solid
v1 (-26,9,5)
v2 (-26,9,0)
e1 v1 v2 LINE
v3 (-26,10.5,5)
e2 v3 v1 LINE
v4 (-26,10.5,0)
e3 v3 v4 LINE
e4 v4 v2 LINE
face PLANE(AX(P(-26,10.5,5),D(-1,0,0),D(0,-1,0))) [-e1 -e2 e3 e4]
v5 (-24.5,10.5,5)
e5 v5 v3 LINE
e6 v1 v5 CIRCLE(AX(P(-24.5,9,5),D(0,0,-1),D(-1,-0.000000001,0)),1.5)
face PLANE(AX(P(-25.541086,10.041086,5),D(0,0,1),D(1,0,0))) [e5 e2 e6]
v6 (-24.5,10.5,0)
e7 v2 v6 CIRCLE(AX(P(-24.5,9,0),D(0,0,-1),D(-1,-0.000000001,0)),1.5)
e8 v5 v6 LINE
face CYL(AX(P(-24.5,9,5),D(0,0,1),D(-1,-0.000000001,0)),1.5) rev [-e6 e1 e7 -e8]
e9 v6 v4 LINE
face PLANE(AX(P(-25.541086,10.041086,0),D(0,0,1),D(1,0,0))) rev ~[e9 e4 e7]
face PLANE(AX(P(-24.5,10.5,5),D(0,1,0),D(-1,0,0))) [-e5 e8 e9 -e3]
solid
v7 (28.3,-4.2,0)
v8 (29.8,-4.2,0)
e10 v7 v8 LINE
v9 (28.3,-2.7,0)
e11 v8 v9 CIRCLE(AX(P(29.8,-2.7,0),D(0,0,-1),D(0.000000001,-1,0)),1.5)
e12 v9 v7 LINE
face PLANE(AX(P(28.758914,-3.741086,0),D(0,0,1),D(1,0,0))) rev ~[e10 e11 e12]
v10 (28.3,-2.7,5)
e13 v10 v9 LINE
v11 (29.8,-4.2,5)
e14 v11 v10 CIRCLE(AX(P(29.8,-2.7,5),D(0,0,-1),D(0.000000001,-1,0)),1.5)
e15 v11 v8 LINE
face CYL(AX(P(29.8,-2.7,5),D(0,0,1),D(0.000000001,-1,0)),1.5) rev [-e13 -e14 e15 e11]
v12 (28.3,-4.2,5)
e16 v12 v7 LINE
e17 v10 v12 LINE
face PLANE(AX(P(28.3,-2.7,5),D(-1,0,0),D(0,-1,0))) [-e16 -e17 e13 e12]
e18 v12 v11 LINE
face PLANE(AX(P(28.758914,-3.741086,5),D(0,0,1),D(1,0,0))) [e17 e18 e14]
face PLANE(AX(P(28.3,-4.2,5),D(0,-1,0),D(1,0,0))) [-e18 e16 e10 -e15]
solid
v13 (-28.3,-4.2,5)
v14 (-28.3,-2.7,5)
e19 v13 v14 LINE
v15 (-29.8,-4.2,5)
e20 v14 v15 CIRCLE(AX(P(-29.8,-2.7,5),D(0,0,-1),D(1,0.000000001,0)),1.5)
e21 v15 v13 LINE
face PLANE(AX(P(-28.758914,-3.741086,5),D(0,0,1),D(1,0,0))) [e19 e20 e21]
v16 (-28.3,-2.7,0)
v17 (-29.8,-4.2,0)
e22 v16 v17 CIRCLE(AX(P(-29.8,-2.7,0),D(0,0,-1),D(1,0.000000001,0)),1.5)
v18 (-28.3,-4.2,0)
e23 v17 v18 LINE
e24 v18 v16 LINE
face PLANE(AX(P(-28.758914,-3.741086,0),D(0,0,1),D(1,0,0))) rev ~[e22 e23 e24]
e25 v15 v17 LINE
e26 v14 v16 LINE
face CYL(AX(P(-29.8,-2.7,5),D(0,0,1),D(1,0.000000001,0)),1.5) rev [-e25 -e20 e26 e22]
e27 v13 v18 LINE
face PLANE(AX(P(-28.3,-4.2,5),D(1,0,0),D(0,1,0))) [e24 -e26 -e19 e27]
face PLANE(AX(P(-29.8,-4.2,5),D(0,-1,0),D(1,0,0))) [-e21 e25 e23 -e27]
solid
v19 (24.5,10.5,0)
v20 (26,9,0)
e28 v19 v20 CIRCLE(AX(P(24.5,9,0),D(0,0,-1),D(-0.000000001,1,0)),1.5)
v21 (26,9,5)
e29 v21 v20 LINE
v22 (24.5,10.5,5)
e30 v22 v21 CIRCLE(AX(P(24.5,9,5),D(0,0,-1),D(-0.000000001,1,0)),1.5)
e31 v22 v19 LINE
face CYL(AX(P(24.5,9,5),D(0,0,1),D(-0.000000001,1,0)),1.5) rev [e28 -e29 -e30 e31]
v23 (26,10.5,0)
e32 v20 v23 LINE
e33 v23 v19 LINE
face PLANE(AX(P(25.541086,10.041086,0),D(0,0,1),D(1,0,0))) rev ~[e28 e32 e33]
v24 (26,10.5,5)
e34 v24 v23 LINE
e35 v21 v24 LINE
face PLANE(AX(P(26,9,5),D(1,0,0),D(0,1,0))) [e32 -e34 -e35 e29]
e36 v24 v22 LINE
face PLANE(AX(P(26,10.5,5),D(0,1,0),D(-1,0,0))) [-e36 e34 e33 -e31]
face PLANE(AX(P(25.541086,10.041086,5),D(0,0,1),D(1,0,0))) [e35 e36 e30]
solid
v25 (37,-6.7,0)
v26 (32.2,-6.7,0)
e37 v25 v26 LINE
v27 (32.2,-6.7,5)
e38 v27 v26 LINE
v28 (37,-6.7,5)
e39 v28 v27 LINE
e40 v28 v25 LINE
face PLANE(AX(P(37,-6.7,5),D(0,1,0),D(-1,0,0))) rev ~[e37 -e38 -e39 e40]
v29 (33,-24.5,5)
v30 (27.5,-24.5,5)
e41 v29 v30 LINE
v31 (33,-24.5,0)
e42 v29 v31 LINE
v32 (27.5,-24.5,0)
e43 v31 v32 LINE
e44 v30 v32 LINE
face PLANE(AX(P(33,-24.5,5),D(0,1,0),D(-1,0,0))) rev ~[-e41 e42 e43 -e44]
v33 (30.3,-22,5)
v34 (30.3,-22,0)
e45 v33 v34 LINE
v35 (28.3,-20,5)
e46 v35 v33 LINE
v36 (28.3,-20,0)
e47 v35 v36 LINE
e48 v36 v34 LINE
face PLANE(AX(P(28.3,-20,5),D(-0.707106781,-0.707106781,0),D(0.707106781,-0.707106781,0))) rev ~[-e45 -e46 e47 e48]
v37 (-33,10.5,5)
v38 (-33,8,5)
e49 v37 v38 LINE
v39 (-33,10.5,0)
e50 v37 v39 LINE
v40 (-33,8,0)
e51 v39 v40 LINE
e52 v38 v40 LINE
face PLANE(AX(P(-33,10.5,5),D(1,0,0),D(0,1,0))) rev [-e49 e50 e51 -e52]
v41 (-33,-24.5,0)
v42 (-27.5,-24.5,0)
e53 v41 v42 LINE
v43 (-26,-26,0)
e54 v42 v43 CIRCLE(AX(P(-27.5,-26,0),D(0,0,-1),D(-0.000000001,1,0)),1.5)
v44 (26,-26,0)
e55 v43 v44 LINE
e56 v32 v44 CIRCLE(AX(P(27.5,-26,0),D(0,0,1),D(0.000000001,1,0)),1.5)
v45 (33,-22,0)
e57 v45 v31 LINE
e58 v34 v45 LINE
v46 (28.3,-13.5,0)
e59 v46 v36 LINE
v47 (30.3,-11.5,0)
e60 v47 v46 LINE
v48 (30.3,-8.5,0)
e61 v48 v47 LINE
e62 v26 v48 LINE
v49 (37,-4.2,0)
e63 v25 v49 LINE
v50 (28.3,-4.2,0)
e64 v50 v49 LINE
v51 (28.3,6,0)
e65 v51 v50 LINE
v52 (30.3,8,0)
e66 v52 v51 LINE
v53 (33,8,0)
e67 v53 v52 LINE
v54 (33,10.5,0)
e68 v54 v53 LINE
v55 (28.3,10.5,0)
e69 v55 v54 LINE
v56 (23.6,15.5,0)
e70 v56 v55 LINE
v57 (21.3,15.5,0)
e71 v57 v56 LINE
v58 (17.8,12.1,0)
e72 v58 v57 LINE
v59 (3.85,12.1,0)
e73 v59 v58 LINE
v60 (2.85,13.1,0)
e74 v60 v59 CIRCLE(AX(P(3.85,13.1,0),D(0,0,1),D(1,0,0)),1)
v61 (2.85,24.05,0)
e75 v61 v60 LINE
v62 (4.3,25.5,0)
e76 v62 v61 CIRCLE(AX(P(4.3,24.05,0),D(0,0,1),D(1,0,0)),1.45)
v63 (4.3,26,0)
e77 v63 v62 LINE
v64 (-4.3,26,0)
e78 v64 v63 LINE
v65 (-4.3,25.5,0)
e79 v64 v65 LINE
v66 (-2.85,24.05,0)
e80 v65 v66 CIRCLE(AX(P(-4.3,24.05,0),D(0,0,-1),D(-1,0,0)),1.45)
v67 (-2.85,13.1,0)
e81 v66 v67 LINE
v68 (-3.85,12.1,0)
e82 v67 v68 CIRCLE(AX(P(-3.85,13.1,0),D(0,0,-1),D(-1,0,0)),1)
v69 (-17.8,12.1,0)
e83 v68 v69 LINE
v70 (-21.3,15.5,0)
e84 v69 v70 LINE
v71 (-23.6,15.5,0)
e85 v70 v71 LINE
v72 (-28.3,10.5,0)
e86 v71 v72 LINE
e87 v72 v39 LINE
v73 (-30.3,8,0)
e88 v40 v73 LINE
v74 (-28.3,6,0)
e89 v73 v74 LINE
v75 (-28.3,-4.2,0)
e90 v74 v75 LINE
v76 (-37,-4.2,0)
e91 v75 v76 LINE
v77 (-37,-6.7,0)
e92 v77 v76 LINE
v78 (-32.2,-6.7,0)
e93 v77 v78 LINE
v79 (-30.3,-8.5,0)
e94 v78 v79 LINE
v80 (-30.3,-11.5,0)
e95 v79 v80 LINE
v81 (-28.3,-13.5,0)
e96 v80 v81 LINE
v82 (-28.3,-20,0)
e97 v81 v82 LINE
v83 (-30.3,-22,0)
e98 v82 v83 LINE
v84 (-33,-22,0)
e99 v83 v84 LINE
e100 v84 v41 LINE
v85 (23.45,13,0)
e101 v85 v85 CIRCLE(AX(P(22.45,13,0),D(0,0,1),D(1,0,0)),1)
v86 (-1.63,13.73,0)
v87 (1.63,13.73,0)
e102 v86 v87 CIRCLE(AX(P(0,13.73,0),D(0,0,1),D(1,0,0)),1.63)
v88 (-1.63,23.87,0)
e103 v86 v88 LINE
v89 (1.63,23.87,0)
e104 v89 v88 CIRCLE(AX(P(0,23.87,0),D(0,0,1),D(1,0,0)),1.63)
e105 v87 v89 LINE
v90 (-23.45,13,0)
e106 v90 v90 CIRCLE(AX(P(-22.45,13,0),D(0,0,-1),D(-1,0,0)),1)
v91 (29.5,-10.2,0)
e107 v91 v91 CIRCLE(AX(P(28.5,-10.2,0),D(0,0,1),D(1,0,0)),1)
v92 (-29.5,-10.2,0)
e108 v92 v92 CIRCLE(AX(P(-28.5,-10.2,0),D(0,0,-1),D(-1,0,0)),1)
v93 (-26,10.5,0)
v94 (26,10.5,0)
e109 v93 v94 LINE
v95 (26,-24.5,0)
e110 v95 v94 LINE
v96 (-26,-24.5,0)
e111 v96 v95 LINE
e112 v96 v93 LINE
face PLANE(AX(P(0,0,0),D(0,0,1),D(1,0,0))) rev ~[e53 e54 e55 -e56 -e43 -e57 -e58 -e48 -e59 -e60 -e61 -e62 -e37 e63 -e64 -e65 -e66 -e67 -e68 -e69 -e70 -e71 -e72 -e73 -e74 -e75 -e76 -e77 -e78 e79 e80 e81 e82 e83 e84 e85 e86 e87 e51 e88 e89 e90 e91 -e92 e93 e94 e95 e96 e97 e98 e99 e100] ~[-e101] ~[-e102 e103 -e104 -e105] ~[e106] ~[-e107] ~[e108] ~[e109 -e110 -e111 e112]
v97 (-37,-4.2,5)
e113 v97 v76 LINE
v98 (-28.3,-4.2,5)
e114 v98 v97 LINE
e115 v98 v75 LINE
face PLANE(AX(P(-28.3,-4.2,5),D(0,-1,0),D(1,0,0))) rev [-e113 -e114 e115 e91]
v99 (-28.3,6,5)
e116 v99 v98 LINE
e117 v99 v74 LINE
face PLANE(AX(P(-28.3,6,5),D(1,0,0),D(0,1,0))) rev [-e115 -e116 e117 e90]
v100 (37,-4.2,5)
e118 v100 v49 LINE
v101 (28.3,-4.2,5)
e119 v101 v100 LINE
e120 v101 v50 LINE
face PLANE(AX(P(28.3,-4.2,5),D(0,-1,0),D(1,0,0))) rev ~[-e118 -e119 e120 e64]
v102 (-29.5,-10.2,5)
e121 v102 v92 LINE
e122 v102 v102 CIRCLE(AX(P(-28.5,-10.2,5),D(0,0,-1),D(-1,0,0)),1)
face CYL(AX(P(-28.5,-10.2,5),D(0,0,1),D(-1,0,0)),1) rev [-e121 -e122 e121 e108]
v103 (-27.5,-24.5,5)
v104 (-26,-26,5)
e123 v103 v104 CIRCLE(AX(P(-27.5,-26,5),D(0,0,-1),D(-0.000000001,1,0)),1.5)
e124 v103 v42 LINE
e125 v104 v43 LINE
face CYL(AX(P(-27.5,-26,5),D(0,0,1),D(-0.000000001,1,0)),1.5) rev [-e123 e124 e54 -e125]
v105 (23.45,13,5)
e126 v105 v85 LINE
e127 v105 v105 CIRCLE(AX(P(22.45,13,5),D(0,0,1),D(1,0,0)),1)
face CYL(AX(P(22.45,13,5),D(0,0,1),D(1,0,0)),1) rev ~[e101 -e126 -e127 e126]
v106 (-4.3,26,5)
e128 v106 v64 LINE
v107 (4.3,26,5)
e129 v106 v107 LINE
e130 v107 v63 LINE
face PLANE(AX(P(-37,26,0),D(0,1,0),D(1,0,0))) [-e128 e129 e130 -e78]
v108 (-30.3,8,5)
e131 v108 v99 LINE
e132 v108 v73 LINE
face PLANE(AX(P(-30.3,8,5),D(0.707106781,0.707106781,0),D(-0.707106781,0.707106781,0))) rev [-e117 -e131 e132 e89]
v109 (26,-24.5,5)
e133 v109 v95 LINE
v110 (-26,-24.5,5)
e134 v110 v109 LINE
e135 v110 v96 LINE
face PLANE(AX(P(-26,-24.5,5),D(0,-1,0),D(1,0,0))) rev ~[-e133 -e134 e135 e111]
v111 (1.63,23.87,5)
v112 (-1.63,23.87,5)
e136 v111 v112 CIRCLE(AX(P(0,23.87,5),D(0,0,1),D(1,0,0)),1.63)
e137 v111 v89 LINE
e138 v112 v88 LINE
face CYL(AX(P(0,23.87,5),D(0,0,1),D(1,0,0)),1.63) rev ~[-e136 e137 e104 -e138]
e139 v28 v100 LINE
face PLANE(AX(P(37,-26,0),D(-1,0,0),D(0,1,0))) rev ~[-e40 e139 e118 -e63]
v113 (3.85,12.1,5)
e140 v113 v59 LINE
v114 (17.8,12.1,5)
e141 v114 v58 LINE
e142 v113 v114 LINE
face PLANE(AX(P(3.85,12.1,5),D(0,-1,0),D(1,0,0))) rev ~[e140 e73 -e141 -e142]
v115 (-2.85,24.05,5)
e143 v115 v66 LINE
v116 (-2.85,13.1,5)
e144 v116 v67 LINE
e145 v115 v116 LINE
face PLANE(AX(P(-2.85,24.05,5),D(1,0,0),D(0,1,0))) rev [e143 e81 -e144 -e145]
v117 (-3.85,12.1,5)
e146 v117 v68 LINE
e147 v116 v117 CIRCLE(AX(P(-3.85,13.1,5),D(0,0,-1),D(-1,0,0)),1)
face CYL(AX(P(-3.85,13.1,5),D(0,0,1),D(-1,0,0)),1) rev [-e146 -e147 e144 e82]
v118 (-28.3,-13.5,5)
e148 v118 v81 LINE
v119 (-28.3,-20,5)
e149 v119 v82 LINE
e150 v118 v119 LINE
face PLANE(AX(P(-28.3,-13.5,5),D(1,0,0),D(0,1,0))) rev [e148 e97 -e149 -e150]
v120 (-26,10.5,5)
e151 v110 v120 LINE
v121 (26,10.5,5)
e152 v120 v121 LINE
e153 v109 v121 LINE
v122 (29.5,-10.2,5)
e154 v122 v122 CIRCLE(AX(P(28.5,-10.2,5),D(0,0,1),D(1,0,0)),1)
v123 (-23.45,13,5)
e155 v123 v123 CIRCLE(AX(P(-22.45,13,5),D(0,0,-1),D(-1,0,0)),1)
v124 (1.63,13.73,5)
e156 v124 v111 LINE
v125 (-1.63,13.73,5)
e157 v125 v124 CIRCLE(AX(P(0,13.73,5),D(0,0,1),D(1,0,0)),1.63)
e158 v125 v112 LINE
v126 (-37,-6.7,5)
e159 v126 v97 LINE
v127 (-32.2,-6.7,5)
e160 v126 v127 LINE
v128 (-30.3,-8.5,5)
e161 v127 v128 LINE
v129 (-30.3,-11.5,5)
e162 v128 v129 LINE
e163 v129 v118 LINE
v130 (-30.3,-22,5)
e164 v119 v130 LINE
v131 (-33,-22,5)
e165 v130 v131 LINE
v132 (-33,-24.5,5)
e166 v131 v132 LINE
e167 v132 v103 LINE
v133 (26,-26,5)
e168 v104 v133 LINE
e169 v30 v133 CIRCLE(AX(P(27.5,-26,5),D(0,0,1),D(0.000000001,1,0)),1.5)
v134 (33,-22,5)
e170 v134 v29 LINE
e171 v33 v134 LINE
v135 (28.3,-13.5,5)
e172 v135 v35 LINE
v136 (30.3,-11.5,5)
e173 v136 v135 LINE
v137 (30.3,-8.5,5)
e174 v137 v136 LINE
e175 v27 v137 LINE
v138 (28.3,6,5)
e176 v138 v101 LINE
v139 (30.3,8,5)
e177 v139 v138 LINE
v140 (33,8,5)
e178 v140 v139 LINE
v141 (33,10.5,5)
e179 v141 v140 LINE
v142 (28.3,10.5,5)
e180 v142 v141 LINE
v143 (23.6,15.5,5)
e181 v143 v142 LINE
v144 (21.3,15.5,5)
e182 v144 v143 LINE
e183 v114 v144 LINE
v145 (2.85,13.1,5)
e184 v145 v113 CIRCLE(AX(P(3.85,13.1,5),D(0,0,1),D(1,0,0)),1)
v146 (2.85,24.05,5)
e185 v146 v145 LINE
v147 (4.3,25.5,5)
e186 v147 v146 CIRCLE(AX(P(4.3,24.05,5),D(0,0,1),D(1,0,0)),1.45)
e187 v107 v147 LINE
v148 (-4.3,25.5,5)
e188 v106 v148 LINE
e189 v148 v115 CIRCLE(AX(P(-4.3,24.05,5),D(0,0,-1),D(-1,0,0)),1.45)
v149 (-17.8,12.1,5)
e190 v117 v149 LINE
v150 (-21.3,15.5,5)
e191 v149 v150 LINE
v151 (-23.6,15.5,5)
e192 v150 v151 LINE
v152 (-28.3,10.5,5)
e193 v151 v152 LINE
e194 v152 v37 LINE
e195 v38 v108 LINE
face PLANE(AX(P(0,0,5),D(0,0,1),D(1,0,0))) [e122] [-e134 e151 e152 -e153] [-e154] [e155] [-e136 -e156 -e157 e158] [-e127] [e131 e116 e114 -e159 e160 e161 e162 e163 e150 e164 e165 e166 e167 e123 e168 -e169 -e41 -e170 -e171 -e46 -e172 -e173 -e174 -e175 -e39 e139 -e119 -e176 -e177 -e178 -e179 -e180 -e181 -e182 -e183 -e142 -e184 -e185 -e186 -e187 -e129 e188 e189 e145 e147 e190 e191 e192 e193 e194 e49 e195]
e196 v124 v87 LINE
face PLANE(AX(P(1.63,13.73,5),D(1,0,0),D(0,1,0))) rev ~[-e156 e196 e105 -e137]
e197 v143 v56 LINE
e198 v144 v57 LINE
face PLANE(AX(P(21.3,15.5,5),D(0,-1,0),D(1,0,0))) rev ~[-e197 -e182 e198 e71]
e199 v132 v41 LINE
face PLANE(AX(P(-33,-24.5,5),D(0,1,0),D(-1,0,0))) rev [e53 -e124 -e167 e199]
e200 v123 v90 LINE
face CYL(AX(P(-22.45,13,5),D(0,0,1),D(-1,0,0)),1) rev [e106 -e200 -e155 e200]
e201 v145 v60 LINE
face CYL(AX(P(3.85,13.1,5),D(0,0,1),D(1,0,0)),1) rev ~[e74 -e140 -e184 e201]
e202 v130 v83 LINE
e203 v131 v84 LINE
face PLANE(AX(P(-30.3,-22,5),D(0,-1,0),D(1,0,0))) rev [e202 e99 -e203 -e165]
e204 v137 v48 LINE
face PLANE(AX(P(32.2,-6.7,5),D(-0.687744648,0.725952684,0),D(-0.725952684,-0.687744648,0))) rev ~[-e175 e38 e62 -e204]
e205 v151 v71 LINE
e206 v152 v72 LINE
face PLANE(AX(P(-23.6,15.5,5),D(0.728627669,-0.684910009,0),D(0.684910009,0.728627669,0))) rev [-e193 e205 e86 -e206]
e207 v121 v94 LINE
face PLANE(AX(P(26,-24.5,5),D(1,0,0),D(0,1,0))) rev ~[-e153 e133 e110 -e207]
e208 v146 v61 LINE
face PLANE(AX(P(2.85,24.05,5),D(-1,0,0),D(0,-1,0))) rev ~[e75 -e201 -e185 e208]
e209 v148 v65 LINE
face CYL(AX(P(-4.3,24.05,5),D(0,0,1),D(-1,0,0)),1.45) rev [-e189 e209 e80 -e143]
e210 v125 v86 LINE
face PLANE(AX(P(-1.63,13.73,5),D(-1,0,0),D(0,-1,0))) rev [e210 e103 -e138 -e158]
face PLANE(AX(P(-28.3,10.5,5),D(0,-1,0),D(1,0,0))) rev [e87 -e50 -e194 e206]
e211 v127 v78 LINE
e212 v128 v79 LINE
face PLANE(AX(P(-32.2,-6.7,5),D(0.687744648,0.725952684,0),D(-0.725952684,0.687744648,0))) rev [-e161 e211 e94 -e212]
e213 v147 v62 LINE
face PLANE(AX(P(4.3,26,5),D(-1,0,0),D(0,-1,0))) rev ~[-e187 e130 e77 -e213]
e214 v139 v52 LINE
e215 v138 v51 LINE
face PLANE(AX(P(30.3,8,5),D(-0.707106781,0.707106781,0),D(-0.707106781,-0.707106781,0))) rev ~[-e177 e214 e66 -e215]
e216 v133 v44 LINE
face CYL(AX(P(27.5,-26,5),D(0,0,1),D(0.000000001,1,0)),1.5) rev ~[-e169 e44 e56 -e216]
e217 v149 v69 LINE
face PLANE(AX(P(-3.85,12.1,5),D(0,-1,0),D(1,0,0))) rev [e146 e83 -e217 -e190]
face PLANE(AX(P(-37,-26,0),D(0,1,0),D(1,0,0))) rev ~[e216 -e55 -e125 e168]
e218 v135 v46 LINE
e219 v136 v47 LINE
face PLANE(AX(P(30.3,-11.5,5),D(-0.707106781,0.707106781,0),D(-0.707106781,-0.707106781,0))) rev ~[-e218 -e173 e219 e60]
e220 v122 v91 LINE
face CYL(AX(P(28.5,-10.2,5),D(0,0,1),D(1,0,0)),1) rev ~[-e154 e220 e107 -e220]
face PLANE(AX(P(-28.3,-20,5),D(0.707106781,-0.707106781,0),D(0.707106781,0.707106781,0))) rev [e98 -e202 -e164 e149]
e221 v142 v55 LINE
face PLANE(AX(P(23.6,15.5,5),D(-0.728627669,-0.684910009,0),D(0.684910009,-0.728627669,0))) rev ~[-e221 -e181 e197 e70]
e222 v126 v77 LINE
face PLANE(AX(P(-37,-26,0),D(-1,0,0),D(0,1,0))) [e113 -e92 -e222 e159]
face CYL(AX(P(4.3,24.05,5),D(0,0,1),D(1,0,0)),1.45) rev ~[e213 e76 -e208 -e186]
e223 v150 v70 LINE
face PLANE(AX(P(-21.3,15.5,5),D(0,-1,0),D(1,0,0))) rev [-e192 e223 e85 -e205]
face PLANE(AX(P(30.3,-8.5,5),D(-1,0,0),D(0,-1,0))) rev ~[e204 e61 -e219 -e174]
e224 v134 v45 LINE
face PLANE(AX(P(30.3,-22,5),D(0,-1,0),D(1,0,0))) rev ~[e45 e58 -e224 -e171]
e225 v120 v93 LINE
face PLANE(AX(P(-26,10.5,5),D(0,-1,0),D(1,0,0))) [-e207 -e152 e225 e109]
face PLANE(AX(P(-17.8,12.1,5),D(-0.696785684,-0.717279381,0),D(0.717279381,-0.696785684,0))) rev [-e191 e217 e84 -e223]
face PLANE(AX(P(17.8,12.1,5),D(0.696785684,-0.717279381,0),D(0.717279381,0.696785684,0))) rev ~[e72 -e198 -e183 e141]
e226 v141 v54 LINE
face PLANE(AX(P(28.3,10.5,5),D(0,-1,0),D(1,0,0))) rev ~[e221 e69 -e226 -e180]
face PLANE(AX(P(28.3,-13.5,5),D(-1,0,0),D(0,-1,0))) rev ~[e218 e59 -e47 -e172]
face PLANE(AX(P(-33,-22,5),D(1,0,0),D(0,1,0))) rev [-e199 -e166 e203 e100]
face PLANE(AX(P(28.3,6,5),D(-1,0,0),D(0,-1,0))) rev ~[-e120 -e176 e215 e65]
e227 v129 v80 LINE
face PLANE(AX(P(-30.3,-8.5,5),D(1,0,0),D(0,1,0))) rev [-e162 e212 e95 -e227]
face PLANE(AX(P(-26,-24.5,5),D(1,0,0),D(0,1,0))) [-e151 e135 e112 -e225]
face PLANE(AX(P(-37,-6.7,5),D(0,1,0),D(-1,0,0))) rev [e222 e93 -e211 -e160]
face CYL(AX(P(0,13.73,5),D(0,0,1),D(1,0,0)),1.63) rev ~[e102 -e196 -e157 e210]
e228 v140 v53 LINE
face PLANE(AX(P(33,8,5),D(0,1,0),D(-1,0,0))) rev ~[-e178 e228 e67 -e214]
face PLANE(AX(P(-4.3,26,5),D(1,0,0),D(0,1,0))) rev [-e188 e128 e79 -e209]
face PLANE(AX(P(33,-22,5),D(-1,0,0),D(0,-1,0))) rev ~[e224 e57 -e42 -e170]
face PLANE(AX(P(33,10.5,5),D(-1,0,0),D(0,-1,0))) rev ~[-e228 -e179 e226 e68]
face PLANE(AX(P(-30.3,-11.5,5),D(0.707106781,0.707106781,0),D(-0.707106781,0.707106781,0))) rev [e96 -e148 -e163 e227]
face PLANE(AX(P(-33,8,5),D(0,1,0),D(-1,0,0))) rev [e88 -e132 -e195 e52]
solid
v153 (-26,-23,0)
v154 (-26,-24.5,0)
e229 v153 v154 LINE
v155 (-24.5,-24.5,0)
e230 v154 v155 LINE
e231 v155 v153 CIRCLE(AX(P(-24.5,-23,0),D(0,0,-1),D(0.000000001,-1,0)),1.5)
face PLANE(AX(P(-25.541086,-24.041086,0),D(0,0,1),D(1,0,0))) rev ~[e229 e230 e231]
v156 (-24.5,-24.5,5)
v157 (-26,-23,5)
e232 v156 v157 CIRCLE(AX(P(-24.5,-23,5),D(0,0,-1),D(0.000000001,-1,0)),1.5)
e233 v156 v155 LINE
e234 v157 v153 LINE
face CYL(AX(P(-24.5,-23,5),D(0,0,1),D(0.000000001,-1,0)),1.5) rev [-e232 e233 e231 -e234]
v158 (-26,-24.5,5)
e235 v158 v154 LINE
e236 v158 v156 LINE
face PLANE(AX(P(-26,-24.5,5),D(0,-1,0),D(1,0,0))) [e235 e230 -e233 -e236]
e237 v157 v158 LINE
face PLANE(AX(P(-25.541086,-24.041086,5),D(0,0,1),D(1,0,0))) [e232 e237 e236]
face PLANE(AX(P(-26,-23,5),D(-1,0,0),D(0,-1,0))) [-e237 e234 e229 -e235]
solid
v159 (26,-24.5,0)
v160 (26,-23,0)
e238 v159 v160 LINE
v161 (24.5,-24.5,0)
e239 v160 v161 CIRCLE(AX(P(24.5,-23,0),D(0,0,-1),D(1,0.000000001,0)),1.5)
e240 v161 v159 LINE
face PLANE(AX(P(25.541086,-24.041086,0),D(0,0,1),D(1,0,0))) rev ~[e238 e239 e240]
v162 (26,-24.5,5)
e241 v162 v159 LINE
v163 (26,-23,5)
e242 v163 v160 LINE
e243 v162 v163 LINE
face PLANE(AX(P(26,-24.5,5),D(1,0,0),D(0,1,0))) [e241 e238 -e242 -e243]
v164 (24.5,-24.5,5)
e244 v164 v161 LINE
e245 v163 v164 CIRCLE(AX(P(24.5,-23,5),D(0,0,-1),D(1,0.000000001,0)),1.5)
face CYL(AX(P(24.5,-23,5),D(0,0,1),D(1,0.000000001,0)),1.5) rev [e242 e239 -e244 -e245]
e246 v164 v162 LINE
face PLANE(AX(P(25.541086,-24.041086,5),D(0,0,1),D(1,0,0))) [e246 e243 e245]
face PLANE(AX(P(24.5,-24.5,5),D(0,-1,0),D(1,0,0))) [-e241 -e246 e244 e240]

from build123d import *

# Parameters (mm, degrees)
CROQUIS1_W                = 74
CROQUIS1_H                = 52
SALIENTE_EXTRUIR1_DEPTH   = 5
CROQUIS2_W                = 52
CROQUIS2_H                = 35
CORTAR_EXTRUIR1_DEPTH     = 5
CROQUIS3_R                = 1
CROQUIS3_R_2              = 1.45
CROQUIS3_R_3              = 1.63
CORTAR_EXTRUIR2_DEPTH     = 5
SALIENTE_EXTRUIR2_DEPTH   = 5
SALIENTE_EXTRUIR2_2_DEPTH = 5
SALIENTE_EXTRUIR2_3_DEPTH = 5
SALIENTE_EXTRUIR2_4_DEPTH = 5
SALIENTE_EXTRUIR2_5_DEPTH = 5
SALIENTE_EXTRUIR2_6_DEPTH = 5


with BuildPart() as part:
    # Croquis1 → Saliente-Extruir1 (new body)
    with BuildSketch(Plane.XY):
        Rectangle(CROQUIS1_W, CROQUIS1_H)
    extrude(amount=SALIENTE_EXTRUIR1_DEPTH)

    # Croquis2 → Cortar-Extruir1 (cut)
    with BuildSketch(Plane.XY.offset(5)):
        with Locations((0, -7)):
            Rectangle(CROQUIS2_W, CROQUIS2_H)
    extrude(amount=-CORTAR_EXTRUIR1_DEPTH, mode=Mode.SUBTRACT)

    # Croquis3 → Cortar-Extruir2 (cut)
    with BuildSketch(Plane.XY.offset(5)):
        with BuildLine():
            Line((33, -22), (33, -24.5))
            Line((33, -24.5), (27.5, -24.5))
            ThreePointArc((27.5, -24.5), (28.560660172, -24.939339828), (29, -26))
            Line((29, -26), (37, -26))
            Line((37, -26), (37, -6.7))
            Line((37, -6.7), (32.2, -6.7))
            Line((32.2, -6.7), (30.3, -8.5))
            Line((30.3, -8.5), (30.3, -11.5))
            Line((30.3, -11.5), (28.3, -13.5))
            Line((28.3, -13.5), (28.3, -20))
            Line((28.3, -20), (30.3, -22))
            Line((30.3, -22), (33, -22))
        make_face()
        with BuildLine():
            ThreePointArc((29, -26), (28.560660172, -24.939339828), (27.5, -24.5))
            ThreePointArc((27.5, -24.5), (26.439339828, -24.939339828), (26, -26))
            Line((26, -26), (29, -26))
        make_face()
        with BuildLine():
            ThreePointArc((26, -26), (27.5, -27.5), (29, -26))
            Line((29, -26), (26, -26))
        make_face()
        with BuildLine():
            Line((28.3, -4.2), (37, -4.2))
            Line((37, -4.2), (37, 26))
            Line((37, 26), (4.3, 26))
            Line((4.3, 26), (4.3, 25.5))
            ThreePointArc((4.3, 25.5), (5.325304833, 25.075304833), (5.75, 24.05))
            ThreePointArc((5.75, 24.05), (4.3, 22.6), (2.85, 24.05))
            Line((2.85, 24.05), (2.85, 13.1))
            ThreePointArc((2.85, 13.1), (3.85, 14.1), (4.85, 13.1))
            ThreePointArc((4.85, 13.1), (4.557106781, 12.392893219), (3.85, 12.1))
            Line((3.85, 12.1), (17.8, 12.1))
            Line((17.8, 12.1), (21.3, 15.5))
            Line((21.3, 15.5), (23.6, 15.5))
            Line((23.6, 15.5), (28.3, 10.5))
            Line((28.3, 10.5), (33, 10.5))
            Line((33, 10.5), (33, 8))
            Line((33, 8), (30.3, 8))
            Line((30.3, 8), (28.3, 6))
            Line((28.3, 6), (28.3, -4.2))
        make_face()
        with Locations((3.85, 13.1)):
            Circle(CROQUIS3_R)
        with Locations((4.3, 24.05)):
            Circle(CROQUIS3_R_2)
        with BuildLine():
            Line((0, 22.24), (0, 15.36))
            ThreePointArc((0, 15.36), (1.152584053, 14.882584053), (1.63, 13.73))
            Line((1.63, 13.73), (1.63, 23.87))
            ThreePointArc((1.63, 23.87), (1.152584053, 22.717415947), (0, 22.24))
        make_face()
        with Locations((0, 23.87)):
            Circle(CROQUIS3_R_3)
        with Locations((0, 13.73)):
            Circle(CROQUIS3_R_3)
        with Locations((22.45, 13)):
            Circle(CROQUIS3_R)
        with Locations((28.5, -10.2)):
            Circle(CROQUIS3_R)
    cortar_extruir2 = extrude(amount=-CORTAR_EXTRUIR2_DEPTH, mode=Mode.SUBTRACT)

    # Simetría2: Cortar-Extruir2 across plane
    add(cortar_extruir2.mirror(Plane.ZY), mode=Mode.SUBTRACT)


with BuildPart() as body_2:
    # Croquis4 → Saliente-Extruir2 (new body)
    with BuildSketch(Plane.XY.offset(5)):
        with BuildLine():
            ThreePointArc((-26, 9), (-25.560660172, 10.060660172), (-24.5, 10.5))
            Line((-24.5, 10.5), (-26, 10.5))
            Line((-26, 10.5), (-26, 9))
        make_face()
    extrude(amount=-SALIENTE_EXTRUIR2_DEPTH)


with BuildPart() as body_3:
    # Croquis4 → Saliente-Extruir2 2 (new body)
    with BuildSketch(Plane.XY.offset(5)):
        with BuildLine():
            Line((-29.8, -4.2), (-28.3, -4.2))
            Line((-28.3, -4.2), (-28.3, -2.7))
            ThreePointArc((-28.3, -2.7), (-28.739339828, -3.760660172), (-29.8, -4.2))
        make_face()
    extrude(amount=-SALIENTE_EXTRUIR2_2_DEPTH)


with BuildPart() as body_4:
    # Croquis4 → Saliente-Extruir2 3 (new body)
    with BuildSketch(Plane.XY.offset(5)):
        with BuildLine():
            ThreePointArc((-24.5, -24.5), (-25.560660178, -24.060660166), (-26, -22.999999983))
            Line((-26, -22.999999983), (-26, -24.5))
            Line((-26, -24.5), (-24.5, -24.5))
        make_face()
    extrude(amount=-SALIENTE_EXTRUIR2_3_DEPTH)


with BuildPart() as body_5:
    # Croquis4 → Saliente-Extruir2 4 (new body)
    with BuildSketch(Plane.XY.offset(5)):
        with BuildLine():
            Line((26, -24.5), (26, -23))
            ThreePointArc((26, -23), (25.560660172, -24.060660172), (24.5, -24.5))
            Line((24.5, -24.5), (26, -24.5))
        make_face()
    extrude(amount=-SALIENTE_EXTRUIR2_4_DEPTH)


with BuildPart() as body_6:
    # Croquis4 → Saliente-Extruir2 5 (new body)
    with BuildSketch(Plane.XY.offset(5)):
        with BuildLine():
            Line((28.3, -2.7), (28.3, -4.2))
            Line((28.3, -4.2), (29.8, -4.2))
            ThreePointArc((29.8, -4.2), (28.739339828, -3.760660172), (28.3, -2.7))
        make_face()
    extrude(amount=-SALIENTE_EXTRUIR2_5_DEPTH)


with BuildPart() as body_7:
    # Croquis4 → Saliente-Extruir2 6 (new body)
    with BuildSketch(Plane.XY.offset(5)):
        with BuildLine():
            Line((26, 9), (26, 10.5))
            Line((26, 10.5), (24.5, 10.5))
            ThreePointArc((24.5, 10.5), (25.560660172, 10.060660172), (26, 9))
        make_face()
    extrude(amount=-SALIENTE_EXTRUIR2_6_DEPTH)


solid = Compound([part.part, body_2.part, body_3.part, body_4.part, body_5.part, body_6.part, body_7.part])
